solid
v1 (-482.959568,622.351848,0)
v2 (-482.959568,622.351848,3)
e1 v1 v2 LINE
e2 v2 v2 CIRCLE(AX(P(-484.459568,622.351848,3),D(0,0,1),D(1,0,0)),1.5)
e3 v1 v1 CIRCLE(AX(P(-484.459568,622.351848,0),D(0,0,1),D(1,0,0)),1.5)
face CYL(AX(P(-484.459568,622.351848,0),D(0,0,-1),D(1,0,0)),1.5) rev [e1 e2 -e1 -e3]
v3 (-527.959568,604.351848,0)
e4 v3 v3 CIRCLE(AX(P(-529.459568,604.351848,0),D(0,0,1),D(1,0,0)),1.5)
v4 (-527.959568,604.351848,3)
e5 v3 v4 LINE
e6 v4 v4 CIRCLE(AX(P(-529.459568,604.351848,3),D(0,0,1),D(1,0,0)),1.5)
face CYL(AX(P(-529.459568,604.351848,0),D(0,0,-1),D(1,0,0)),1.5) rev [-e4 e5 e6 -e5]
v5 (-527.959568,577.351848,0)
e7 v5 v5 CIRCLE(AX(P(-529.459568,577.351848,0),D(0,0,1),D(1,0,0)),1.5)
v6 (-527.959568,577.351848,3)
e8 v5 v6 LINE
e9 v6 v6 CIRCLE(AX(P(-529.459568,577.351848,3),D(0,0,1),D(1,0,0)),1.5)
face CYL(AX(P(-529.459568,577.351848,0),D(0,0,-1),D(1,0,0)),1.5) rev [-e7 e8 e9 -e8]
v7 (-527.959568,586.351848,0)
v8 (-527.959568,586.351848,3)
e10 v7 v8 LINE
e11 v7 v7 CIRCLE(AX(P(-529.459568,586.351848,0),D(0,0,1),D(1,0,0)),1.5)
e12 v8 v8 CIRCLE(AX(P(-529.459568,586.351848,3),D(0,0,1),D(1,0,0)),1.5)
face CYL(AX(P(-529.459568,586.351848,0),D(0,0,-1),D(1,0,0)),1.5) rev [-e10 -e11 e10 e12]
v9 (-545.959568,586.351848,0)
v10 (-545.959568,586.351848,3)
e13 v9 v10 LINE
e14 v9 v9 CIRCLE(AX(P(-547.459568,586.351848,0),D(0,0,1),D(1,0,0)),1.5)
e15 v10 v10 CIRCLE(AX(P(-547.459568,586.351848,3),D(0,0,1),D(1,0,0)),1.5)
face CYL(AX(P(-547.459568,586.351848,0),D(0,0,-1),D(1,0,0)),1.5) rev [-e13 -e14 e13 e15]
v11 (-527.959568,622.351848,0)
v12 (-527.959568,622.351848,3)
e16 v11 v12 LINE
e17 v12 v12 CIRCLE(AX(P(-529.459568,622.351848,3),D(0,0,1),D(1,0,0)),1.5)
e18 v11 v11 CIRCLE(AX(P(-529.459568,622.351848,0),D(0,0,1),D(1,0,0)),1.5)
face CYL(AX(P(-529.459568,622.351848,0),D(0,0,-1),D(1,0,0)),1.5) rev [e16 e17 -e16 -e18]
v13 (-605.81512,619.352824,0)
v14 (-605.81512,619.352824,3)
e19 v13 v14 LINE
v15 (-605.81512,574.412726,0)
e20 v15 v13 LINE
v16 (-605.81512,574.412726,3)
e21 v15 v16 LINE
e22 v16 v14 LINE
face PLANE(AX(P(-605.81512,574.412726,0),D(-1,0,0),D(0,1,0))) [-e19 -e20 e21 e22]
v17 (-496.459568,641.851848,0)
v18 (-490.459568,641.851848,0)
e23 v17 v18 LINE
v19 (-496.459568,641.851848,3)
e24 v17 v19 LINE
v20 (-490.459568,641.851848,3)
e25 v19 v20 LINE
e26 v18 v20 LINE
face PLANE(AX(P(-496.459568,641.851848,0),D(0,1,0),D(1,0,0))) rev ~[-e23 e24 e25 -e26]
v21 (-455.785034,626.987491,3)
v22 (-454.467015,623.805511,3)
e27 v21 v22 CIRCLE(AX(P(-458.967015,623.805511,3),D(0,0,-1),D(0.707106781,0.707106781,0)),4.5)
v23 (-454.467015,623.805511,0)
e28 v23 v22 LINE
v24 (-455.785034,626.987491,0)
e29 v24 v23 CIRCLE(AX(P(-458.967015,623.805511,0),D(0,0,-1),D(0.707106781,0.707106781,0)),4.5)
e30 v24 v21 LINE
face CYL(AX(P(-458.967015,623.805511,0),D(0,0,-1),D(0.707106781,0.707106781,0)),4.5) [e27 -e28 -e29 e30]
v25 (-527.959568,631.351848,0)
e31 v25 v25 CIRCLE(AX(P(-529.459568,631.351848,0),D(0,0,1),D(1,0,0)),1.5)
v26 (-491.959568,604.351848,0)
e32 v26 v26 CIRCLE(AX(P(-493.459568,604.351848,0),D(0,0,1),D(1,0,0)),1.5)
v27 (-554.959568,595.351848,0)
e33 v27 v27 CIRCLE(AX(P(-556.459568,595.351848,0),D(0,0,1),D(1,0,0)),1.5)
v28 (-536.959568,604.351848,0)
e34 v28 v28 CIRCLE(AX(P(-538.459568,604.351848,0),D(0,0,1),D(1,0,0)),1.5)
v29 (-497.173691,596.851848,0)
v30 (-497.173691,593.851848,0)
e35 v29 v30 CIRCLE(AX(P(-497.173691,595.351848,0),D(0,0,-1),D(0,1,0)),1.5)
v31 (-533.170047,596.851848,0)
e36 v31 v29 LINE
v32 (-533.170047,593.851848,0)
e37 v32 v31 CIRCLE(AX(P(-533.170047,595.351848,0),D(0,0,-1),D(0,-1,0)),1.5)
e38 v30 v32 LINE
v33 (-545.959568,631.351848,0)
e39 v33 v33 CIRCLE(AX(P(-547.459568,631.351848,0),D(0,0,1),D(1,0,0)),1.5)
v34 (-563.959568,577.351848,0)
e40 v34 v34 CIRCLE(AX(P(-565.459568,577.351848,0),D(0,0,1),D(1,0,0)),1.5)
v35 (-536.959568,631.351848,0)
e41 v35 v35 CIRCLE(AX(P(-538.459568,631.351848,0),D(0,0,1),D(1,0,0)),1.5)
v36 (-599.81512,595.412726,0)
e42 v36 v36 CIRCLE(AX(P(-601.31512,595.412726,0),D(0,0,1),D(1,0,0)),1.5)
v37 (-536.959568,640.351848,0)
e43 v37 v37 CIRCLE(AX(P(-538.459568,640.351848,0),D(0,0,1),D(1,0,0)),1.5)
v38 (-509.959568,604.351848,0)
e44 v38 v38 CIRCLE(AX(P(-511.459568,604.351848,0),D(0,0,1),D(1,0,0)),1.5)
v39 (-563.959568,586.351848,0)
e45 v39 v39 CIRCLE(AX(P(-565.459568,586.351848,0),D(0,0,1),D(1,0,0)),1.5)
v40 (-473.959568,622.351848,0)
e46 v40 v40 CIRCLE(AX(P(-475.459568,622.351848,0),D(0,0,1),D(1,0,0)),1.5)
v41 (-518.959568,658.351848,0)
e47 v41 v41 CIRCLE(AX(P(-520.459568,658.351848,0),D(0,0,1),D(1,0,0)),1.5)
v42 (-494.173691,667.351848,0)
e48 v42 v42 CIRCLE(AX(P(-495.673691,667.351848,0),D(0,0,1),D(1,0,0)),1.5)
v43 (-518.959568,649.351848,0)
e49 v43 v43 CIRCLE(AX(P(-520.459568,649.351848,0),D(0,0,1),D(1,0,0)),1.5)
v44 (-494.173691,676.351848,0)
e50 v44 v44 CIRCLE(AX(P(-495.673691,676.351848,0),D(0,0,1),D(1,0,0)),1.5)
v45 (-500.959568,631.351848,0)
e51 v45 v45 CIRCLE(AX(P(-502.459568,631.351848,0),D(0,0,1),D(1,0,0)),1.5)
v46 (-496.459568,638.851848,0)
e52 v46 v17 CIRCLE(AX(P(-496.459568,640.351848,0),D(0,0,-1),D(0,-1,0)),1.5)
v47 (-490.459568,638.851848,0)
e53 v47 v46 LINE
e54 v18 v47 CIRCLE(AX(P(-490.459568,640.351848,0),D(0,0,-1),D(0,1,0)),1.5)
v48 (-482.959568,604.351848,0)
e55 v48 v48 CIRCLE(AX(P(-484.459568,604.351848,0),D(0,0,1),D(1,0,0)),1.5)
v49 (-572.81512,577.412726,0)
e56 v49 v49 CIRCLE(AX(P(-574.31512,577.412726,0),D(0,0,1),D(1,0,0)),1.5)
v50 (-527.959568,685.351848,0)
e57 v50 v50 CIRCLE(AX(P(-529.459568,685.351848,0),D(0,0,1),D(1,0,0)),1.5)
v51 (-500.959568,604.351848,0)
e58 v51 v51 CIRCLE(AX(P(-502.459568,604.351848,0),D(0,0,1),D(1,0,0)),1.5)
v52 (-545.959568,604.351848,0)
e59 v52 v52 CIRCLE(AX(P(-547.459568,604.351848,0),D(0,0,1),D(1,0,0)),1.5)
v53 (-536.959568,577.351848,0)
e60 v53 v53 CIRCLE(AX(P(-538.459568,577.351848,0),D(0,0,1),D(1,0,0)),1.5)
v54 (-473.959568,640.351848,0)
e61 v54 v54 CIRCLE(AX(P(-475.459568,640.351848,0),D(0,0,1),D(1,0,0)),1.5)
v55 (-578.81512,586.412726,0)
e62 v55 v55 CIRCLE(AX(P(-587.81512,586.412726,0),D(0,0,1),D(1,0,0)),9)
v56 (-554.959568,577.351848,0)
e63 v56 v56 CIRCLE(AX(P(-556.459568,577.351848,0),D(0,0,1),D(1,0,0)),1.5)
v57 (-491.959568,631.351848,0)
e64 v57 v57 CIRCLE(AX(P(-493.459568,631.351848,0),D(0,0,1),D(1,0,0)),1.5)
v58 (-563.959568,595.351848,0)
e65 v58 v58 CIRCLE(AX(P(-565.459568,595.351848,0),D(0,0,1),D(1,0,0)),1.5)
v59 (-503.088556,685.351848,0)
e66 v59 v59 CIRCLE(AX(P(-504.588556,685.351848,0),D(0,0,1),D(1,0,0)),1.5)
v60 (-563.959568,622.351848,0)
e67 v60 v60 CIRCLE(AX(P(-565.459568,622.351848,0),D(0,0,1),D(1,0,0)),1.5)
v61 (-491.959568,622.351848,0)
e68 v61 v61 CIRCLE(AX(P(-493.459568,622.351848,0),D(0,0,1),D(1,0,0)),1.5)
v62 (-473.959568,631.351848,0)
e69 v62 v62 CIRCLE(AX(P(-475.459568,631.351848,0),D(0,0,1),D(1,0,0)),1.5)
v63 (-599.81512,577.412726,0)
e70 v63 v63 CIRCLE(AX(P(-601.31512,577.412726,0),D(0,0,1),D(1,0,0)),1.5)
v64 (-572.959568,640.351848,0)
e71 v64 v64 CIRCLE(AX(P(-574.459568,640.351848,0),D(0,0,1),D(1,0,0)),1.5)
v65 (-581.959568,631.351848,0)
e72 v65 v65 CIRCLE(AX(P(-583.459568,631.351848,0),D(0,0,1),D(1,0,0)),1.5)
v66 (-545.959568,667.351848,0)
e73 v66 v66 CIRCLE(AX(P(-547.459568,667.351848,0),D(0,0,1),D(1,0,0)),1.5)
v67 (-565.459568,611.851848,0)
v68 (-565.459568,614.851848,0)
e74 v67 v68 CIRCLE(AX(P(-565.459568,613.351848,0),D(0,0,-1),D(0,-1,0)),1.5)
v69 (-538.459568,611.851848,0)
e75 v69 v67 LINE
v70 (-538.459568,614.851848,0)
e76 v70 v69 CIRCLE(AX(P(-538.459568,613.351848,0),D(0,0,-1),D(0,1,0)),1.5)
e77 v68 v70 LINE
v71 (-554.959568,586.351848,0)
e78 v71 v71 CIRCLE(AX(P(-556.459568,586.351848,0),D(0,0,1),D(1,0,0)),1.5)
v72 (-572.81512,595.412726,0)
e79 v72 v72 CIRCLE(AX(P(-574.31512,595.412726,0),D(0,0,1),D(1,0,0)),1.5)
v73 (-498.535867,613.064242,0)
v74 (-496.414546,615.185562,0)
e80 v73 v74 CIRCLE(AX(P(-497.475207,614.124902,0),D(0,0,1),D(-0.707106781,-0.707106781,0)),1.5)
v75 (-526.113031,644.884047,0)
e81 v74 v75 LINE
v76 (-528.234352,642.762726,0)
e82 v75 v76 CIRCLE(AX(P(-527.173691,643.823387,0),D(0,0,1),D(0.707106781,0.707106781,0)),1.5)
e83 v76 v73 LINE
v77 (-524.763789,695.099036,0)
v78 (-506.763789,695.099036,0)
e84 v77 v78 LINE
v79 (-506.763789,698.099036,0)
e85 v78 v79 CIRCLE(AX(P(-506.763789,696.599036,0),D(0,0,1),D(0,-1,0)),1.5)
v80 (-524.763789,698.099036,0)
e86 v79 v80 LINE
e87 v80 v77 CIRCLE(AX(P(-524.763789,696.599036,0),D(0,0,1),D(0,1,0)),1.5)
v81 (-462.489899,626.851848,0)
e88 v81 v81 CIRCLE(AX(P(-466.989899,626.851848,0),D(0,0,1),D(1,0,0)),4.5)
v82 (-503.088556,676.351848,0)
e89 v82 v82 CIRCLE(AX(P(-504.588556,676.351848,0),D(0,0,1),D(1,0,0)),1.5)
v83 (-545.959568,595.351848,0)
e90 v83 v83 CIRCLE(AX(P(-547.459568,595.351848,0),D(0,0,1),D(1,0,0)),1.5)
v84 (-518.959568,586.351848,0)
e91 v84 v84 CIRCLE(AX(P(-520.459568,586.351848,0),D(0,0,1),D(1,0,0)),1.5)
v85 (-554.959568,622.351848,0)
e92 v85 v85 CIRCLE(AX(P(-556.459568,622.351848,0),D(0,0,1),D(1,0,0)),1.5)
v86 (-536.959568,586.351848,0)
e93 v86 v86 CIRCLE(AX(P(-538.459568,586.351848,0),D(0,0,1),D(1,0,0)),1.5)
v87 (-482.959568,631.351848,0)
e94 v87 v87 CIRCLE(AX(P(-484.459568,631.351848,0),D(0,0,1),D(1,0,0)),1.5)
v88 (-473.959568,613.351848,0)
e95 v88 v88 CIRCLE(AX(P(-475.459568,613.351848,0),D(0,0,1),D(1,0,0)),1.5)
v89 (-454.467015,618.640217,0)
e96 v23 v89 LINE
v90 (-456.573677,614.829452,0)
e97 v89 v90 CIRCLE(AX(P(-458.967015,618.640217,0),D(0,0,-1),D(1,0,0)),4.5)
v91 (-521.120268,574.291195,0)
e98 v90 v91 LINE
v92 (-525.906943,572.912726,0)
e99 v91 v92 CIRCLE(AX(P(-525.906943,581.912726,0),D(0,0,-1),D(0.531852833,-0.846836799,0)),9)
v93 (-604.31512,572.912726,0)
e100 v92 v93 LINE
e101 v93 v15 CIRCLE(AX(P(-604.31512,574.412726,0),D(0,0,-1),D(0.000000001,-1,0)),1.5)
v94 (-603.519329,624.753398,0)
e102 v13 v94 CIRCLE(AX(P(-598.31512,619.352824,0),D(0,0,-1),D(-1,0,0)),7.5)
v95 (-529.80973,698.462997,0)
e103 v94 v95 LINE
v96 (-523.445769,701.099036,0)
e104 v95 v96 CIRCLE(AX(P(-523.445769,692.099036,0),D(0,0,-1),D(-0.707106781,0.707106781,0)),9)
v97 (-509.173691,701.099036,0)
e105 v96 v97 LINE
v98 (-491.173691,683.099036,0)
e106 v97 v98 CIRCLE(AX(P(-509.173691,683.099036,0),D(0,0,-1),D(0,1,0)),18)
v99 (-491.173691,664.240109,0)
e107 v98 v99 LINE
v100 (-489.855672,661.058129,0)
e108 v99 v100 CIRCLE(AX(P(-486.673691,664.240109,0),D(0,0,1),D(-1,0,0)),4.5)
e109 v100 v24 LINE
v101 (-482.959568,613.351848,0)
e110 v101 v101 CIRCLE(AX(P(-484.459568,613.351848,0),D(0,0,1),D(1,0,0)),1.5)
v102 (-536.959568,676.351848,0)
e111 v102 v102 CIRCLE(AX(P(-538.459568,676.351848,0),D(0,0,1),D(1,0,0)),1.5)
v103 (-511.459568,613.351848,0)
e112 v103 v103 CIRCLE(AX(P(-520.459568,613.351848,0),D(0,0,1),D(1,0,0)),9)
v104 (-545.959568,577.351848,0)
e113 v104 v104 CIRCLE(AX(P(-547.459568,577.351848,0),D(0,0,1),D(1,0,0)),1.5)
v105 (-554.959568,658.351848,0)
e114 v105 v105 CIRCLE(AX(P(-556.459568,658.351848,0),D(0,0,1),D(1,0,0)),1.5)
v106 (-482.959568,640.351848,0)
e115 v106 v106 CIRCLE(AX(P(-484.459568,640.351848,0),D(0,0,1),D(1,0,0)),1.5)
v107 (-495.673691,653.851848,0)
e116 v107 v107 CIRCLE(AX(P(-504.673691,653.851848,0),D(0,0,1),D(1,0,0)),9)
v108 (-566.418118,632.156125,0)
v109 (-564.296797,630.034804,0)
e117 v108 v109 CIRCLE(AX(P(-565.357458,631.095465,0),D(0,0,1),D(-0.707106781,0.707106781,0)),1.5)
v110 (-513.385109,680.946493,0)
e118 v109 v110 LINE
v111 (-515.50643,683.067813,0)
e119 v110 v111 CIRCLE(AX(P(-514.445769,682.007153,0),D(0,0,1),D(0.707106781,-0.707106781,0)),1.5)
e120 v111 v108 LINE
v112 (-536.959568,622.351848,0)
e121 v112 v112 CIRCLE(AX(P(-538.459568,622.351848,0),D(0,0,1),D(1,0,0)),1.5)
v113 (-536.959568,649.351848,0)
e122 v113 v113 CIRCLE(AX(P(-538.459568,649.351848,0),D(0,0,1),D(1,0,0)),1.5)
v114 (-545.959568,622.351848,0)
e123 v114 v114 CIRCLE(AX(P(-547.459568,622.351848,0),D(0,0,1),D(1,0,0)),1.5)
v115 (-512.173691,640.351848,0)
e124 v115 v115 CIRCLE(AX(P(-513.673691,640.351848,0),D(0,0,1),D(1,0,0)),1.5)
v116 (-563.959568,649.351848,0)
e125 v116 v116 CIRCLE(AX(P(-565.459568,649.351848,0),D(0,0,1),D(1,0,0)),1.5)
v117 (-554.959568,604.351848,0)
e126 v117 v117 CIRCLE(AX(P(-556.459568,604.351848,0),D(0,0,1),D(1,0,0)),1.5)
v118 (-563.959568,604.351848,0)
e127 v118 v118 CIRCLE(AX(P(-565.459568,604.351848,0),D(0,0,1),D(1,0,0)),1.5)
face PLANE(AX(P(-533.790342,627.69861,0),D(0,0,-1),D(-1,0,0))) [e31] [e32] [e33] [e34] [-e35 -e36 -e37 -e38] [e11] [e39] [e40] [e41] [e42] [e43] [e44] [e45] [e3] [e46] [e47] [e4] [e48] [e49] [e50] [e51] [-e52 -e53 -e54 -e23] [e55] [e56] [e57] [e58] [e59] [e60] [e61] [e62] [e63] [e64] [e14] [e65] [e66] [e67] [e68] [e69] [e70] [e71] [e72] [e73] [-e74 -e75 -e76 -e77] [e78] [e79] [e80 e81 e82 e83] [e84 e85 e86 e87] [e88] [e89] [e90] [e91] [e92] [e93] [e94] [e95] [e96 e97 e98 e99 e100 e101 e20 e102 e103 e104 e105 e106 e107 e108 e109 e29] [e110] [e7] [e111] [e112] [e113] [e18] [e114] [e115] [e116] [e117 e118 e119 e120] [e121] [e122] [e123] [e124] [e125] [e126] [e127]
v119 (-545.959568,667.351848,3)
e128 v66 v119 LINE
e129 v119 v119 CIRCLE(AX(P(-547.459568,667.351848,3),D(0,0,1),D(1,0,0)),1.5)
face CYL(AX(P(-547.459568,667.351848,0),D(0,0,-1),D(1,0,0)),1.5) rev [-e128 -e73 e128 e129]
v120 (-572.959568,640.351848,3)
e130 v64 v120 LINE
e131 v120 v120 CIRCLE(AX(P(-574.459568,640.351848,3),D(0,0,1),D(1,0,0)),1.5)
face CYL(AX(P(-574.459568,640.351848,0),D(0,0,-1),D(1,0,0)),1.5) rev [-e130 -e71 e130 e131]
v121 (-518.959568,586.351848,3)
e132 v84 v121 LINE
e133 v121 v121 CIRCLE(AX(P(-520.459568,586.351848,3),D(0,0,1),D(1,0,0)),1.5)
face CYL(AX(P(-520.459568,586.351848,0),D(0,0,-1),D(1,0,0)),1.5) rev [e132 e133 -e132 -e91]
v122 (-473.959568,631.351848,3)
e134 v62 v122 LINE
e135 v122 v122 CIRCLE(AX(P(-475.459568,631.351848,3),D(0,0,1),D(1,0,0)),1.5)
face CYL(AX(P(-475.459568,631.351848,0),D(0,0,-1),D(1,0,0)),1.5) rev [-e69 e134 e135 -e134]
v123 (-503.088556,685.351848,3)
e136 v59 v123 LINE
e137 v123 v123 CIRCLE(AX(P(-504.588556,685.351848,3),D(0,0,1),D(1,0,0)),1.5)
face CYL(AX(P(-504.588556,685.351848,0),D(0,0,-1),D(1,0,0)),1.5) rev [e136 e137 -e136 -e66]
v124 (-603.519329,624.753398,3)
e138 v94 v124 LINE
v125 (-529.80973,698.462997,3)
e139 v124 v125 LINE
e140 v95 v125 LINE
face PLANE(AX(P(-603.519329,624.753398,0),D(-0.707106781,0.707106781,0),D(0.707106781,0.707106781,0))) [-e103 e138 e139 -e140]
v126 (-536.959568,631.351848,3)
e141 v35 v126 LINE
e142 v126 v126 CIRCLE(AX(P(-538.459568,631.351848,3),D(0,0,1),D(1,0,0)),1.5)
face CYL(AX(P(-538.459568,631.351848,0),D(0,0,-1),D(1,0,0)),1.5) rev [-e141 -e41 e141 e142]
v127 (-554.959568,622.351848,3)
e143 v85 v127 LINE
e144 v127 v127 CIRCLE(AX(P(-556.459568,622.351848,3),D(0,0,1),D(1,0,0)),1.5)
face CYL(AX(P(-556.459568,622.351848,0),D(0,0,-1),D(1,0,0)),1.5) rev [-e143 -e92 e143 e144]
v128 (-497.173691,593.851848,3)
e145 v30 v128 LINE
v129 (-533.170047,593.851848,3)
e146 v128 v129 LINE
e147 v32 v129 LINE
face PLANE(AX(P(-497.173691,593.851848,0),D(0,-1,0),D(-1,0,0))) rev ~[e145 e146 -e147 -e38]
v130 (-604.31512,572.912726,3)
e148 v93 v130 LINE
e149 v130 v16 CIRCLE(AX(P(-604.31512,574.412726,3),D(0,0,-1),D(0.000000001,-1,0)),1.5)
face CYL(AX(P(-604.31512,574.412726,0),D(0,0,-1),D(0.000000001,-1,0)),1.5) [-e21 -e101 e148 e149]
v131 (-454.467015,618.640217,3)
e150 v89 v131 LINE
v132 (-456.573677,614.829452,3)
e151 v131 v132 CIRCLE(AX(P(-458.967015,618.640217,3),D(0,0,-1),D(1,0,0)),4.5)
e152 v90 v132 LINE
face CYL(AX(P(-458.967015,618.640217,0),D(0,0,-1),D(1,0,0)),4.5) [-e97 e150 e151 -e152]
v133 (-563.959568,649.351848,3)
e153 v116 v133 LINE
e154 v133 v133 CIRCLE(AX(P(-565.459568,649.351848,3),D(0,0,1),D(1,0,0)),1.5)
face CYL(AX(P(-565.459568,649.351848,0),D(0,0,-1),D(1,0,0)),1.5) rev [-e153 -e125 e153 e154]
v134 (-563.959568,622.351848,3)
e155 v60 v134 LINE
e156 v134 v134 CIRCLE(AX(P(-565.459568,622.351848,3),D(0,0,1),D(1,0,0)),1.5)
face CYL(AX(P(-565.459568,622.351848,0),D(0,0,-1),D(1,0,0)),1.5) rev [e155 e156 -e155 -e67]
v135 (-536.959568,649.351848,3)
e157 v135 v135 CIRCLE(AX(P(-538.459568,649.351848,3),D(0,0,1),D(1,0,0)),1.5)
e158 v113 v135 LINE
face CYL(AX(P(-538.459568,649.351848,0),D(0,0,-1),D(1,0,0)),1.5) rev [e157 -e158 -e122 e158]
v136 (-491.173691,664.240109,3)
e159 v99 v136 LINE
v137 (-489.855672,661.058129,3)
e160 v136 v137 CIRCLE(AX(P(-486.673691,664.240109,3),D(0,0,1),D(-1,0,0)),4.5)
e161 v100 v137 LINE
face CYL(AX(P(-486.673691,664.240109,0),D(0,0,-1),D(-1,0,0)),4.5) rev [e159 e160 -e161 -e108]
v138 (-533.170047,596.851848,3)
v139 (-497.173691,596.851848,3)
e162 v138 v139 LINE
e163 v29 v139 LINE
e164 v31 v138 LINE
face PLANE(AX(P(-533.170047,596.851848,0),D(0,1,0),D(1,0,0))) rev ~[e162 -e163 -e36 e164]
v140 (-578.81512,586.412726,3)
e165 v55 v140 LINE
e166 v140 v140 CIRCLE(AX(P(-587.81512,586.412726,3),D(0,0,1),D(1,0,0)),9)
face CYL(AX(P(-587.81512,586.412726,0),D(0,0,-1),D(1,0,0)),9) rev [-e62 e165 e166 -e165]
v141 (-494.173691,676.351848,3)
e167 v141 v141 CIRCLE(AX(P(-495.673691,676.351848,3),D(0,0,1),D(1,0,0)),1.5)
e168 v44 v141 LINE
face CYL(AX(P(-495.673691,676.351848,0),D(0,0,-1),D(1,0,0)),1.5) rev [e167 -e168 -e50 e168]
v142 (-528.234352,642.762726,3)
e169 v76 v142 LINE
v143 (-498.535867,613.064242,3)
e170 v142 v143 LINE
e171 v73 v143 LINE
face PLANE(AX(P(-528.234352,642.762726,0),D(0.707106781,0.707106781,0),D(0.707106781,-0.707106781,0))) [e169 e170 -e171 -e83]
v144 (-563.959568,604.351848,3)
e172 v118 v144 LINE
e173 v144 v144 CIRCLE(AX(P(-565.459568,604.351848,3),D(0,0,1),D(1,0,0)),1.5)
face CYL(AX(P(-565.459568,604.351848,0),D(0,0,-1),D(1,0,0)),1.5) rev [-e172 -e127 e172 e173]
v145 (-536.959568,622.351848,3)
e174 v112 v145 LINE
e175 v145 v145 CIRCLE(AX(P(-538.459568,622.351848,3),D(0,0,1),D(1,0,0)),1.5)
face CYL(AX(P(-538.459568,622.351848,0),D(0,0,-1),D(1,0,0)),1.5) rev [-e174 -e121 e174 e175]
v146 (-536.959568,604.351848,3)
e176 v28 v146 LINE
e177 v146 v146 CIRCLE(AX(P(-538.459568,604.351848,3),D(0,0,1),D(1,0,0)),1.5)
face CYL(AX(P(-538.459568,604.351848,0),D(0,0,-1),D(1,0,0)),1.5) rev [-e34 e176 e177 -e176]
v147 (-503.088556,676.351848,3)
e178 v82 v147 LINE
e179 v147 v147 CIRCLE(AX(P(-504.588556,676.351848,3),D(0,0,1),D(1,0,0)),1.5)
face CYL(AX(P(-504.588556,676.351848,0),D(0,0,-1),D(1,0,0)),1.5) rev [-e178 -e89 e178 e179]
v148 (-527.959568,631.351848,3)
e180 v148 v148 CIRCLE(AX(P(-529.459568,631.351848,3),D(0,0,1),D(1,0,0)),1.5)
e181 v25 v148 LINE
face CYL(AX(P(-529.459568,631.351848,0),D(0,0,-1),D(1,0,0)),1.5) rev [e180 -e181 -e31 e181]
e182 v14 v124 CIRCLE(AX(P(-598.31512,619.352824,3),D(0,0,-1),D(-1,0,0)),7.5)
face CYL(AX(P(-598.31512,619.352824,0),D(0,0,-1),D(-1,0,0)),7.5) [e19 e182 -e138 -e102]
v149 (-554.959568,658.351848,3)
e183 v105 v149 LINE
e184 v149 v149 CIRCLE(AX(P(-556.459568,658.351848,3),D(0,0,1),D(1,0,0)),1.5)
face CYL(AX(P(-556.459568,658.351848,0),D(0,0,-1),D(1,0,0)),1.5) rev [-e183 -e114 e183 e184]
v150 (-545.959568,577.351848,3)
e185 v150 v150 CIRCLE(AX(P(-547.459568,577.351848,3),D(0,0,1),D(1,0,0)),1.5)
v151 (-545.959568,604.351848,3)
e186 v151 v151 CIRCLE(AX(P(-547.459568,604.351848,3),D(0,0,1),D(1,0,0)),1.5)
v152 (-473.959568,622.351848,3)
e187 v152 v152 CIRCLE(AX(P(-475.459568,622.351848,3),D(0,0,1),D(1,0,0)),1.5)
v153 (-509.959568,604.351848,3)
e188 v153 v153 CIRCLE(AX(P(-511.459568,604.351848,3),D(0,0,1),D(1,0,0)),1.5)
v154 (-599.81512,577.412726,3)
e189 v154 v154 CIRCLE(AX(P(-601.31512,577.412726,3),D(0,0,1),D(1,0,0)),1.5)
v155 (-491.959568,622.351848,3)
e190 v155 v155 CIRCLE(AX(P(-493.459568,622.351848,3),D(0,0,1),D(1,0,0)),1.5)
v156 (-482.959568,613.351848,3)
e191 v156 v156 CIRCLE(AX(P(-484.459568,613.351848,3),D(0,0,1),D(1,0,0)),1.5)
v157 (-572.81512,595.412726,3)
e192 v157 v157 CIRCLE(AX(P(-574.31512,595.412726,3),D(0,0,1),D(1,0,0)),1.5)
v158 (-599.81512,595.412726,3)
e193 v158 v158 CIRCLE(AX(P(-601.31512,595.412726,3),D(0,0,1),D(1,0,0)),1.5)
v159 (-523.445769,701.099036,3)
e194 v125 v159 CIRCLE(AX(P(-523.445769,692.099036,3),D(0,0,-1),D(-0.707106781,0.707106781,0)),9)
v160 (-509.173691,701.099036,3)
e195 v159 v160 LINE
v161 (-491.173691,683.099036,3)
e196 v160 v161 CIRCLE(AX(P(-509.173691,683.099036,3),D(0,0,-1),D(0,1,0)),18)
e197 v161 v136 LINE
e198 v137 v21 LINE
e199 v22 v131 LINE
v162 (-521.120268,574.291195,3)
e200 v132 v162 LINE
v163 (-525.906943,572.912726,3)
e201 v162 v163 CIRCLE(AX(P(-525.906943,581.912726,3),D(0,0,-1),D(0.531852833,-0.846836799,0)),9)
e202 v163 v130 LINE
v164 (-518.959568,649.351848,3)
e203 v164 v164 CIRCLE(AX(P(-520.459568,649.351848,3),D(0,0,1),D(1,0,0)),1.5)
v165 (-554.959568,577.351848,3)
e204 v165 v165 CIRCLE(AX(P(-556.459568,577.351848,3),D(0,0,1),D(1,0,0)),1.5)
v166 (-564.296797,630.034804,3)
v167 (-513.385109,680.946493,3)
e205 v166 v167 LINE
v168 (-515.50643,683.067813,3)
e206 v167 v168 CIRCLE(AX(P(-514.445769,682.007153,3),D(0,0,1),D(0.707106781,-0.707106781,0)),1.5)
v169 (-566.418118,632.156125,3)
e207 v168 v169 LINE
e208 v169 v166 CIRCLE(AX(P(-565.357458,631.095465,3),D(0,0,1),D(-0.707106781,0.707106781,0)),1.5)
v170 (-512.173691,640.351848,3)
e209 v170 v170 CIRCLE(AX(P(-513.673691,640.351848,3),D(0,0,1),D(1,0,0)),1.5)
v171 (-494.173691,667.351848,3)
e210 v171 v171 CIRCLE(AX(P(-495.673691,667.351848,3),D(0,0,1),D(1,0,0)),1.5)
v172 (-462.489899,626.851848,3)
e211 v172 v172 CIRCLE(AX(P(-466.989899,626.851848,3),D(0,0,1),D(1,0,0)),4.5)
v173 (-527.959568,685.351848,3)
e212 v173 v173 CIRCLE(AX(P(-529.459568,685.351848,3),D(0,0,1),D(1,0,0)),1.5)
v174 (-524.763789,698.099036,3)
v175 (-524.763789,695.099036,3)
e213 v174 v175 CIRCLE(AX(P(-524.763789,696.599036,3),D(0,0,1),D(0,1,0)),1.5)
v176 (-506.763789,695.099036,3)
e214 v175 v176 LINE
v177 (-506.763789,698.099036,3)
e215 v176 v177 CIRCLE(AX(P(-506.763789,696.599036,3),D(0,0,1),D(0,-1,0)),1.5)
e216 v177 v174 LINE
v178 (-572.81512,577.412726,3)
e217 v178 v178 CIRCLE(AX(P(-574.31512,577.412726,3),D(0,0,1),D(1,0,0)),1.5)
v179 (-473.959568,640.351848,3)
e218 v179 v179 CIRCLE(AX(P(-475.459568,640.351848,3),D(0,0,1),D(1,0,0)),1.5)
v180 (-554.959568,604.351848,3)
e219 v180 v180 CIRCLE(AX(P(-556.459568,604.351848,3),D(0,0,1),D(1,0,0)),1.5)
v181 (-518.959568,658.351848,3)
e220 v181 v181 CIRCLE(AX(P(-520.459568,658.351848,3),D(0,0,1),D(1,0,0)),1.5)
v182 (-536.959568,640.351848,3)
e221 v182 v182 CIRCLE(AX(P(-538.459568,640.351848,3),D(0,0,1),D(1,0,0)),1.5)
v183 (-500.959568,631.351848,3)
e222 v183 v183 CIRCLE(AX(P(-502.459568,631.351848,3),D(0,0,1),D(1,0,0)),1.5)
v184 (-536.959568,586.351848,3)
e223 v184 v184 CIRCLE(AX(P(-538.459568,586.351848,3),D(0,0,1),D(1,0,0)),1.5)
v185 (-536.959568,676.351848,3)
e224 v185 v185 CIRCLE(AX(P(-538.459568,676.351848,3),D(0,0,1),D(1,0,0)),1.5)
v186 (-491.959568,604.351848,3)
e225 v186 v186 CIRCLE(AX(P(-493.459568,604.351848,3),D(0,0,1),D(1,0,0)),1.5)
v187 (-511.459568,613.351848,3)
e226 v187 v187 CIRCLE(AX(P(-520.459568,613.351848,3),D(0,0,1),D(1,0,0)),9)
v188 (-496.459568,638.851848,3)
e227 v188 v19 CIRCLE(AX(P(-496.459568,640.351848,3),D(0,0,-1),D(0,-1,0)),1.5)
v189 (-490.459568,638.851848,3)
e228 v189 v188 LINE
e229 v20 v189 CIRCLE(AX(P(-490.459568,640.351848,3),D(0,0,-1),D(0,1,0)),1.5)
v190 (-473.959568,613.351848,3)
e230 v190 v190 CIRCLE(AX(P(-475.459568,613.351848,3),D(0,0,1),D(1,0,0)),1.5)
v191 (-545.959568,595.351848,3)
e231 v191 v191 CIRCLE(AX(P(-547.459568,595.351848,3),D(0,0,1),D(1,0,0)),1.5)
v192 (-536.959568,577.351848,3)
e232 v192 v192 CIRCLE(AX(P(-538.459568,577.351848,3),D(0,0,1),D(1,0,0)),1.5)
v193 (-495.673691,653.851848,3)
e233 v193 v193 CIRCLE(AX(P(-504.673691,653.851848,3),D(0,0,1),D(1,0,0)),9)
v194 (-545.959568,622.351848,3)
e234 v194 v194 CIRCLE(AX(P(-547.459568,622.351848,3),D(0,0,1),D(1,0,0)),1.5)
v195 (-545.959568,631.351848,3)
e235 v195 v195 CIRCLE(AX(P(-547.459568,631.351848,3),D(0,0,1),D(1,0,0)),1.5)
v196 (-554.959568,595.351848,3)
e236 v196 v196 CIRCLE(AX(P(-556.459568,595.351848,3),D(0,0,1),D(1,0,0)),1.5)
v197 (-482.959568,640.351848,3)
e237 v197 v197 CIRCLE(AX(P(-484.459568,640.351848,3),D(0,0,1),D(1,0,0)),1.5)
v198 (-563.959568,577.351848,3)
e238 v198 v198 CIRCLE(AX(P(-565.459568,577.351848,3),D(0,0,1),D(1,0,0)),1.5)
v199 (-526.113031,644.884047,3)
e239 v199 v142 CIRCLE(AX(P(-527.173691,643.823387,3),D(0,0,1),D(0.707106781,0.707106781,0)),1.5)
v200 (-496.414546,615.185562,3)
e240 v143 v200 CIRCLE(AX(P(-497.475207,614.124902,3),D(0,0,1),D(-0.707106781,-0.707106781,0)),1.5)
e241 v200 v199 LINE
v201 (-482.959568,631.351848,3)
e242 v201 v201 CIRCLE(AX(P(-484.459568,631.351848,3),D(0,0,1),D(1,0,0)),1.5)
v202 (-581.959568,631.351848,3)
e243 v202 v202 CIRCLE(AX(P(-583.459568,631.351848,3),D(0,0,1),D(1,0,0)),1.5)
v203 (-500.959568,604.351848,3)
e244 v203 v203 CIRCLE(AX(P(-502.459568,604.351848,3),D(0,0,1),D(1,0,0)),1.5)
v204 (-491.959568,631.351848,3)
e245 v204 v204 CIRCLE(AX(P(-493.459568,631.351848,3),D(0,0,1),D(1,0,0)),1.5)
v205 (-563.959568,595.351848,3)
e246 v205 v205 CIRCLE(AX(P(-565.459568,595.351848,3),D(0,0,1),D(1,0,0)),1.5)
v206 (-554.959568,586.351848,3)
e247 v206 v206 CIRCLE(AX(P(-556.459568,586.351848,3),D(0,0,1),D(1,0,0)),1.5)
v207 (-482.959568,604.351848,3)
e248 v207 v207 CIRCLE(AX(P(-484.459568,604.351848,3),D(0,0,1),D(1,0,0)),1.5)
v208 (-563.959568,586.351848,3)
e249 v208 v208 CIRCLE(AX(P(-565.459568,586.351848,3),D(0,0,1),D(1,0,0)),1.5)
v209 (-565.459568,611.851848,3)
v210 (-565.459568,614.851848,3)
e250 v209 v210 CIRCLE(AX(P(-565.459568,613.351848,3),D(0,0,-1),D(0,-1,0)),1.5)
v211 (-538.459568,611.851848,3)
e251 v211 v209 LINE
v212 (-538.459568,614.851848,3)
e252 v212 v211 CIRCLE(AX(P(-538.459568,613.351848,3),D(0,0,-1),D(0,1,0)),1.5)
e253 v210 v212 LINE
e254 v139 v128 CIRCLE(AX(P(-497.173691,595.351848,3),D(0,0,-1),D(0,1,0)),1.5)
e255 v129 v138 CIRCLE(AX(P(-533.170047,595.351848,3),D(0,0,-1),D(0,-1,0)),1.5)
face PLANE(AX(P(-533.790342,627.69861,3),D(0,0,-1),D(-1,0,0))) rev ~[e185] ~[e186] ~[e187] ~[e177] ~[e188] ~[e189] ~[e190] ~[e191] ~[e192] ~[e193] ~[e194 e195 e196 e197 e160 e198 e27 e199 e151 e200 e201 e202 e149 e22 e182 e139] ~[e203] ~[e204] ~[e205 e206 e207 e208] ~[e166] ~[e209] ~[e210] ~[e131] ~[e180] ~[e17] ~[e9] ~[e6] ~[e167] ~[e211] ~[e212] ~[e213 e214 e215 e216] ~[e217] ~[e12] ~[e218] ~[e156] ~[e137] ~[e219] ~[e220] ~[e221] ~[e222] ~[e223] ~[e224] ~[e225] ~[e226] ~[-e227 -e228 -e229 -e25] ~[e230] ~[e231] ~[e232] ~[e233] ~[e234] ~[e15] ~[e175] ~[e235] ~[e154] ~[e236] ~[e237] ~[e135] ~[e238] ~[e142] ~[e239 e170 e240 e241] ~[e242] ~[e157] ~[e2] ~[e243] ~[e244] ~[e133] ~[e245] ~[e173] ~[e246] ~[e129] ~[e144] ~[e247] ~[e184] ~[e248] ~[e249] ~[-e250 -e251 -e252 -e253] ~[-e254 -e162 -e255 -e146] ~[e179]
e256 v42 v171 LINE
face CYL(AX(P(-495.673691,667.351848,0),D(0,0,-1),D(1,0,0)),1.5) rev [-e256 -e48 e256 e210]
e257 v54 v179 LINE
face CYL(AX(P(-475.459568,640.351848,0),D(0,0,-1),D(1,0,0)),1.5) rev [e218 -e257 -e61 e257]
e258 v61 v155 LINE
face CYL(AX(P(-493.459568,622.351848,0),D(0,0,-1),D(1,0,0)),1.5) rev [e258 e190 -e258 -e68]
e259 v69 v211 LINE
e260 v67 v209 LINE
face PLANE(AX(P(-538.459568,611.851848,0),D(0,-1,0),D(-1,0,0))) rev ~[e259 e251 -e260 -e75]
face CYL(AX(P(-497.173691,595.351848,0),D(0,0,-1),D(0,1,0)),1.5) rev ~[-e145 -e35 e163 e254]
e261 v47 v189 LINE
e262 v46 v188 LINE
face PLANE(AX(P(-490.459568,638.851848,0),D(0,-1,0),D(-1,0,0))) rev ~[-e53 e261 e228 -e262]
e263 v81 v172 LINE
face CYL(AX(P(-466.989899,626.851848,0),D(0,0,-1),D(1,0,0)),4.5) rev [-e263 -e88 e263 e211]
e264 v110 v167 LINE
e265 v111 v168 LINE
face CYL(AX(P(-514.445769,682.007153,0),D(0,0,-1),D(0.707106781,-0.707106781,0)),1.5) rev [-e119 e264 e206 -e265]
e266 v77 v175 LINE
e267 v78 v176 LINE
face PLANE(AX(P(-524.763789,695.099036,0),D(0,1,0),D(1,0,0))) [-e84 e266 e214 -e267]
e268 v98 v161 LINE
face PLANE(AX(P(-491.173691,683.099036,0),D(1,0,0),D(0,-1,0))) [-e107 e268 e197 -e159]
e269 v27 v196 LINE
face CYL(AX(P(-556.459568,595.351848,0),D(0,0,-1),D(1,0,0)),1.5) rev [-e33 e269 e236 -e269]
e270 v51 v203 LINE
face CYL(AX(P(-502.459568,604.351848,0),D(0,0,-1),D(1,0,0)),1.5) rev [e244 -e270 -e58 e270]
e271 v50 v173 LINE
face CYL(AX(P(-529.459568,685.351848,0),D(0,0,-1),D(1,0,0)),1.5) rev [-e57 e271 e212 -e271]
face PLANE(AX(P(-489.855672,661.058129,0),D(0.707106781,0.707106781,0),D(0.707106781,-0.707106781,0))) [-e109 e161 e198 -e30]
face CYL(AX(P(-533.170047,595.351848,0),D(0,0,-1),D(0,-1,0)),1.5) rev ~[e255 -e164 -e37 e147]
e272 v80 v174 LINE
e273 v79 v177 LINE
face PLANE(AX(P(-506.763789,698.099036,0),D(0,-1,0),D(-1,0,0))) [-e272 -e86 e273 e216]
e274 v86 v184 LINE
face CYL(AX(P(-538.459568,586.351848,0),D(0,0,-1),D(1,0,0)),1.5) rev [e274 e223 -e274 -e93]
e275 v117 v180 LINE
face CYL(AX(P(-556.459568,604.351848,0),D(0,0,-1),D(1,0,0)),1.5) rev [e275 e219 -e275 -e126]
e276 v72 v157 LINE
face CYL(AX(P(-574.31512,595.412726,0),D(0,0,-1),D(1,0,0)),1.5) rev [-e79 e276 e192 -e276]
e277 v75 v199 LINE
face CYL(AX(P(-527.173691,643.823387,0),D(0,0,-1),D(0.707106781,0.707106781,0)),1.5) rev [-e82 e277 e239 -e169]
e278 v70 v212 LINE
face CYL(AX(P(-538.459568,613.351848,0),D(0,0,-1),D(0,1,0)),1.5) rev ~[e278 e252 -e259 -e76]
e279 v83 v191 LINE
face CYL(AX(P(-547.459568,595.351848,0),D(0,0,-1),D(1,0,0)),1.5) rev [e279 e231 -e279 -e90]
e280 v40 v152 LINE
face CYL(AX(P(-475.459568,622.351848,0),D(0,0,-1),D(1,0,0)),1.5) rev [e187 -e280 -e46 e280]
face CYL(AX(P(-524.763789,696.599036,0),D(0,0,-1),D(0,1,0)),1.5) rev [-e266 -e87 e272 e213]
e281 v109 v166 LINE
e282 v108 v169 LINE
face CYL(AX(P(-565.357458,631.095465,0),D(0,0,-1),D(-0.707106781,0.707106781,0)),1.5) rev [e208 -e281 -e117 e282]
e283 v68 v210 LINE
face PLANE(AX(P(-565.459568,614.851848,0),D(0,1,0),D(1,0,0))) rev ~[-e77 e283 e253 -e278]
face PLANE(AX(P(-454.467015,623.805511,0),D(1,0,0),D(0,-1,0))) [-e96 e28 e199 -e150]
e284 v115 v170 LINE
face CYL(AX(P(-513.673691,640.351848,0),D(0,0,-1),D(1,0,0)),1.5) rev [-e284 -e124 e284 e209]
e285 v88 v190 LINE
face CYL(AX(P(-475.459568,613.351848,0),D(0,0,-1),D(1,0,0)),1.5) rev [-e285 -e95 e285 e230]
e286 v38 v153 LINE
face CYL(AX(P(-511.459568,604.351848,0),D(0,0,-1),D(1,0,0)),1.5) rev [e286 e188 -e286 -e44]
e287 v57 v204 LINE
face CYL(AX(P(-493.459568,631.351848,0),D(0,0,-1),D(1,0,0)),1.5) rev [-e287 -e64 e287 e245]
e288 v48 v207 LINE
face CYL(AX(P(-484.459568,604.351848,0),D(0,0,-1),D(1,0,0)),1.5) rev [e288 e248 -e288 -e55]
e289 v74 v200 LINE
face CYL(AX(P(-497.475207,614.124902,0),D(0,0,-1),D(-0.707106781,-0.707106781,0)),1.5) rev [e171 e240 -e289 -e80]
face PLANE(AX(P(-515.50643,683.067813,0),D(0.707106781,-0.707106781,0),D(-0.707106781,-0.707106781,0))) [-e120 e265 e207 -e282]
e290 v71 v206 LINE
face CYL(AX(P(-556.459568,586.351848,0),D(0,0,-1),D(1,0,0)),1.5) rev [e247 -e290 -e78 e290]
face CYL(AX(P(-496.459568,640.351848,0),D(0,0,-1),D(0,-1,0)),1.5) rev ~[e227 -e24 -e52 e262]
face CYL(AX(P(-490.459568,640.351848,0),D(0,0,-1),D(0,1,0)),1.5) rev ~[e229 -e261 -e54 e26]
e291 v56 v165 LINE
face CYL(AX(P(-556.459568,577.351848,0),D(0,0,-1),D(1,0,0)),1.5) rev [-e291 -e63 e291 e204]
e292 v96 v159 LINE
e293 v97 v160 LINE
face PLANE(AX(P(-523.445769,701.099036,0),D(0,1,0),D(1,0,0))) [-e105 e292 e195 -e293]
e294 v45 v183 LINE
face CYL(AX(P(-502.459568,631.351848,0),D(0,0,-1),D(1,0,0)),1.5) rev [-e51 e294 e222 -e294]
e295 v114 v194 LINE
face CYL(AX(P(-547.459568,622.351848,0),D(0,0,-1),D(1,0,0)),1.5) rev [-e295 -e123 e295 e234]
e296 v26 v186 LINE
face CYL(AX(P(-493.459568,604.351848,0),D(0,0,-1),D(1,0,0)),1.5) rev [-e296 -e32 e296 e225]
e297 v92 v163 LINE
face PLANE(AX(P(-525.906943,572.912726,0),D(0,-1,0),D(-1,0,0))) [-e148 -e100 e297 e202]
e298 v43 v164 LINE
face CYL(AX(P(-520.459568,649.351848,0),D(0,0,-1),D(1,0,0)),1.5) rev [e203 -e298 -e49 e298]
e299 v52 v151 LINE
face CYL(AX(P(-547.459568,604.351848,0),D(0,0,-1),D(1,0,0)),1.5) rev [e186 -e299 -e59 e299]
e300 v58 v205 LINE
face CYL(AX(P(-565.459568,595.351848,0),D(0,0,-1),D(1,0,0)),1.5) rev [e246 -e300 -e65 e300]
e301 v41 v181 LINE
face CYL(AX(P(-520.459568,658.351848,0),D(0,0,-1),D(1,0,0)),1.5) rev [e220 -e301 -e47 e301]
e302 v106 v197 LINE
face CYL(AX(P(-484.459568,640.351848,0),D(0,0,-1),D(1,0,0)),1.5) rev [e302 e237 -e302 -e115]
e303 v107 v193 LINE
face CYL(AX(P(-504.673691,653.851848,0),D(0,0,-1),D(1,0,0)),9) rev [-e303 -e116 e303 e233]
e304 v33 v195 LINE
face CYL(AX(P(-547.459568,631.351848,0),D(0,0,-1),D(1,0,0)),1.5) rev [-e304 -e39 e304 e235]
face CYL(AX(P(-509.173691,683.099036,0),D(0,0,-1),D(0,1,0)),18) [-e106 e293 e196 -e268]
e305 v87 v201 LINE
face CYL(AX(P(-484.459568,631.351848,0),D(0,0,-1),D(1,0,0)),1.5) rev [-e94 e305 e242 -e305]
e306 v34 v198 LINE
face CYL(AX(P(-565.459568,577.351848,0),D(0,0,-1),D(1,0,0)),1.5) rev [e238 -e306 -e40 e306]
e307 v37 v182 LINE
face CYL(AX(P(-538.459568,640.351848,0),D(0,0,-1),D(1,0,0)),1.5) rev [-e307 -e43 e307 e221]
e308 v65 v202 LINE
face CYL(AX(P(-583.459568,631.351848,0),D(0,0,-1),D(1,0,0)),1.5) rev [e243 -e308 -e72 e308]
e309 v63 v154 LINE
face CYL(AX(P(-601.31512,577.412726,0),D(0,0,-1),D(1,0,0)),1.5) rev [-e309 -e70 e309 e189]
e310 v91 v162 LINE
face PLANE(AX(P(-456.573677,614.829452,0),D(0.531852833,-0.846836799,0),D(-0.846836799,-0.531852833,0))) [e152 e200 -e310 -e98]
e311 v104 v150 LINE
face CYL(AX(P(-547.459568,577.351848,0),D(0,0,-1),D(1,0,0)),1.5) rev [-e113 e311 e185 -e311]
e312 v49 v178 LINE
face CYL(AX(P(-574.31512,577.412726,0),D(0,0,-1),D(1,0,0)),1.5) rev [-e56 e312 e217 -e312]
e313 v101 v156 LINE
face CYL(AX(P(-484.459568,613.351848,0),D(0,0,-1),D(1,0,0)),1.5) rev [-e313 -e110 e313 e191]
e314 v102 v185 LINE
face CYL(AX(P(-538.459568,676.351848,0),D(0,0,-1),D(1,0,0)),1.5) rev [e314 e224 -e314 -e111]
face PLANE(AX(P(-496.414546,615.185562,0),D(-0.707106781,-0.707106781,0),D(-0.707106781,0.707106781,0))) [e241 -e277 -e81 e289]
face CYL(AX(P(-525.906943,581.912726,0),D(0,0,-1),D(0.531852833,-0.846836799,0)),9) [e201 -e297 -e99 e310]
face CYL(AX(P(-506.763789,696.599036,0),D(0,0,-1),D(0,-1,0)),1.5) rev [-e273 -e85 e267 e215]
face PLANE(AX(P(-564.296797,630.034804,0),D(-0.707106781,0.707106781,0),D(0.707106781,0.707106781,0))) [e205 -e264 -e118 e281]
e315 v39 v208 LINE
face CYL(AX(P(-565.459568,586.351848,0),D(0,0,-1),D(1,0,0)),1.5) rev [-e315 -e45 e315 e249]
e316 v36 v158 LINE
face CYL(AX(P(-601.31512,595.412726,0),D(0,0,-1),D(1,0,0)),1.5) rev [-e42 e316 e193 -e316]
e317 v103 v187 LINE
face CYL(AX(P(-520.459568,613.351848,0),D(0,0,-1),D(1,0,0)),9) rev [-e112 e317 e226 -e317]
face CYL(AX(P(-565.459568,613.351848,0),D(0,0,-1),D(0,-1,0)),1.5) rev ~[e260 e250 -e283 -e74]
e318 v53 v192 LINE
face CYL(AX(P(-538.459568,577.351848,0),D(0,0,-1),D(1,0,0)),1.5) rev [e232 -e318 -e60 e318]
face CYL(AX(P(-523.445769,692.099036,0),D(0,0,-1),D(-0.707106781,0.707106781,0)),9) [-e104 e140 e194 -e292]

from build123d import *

# Parameters (mm, degrees)
MODEL_R                 = 1.5
MODEL_R_2               = 9
MODEL_R_3               = 4.5
SALIENTE_EXTRUIR1_DEPTH = 3


with BuildPart() as part:
    # Model → Saliente-Extruir1 (new body)
    with BuildSketch(Plane.XY):
        with BuildLine():
            Line((-509.173691468, 701.09903587), (-523.445769407, 701.09903587))
            ThreePointArc((-523.445769407, 701.09903587), (-526.889920298, 700.413951663), (-529.809730437, 698.462996901))
            Line((-529.809730437, 698.462996901), (-603.519329352, 624.753397987))
            ThreePointArc((-603.519329352, 624.753397987), (-605.217350164, 622.286969974), (-605.815119618, 619.352823846))
            Line((-605.815119618, 619.352823846), (-605.815119618, 574.412726468))
            ThreePointArc((-605.815119618, 574.412726468), (-605.37577979, 573.352066296), (-604.315119618, 572.912726468))
            Line((-604.315119618, 572.912726468), (-525.906943381, 572.912726468))
            ThreePointArc((-525.906943381, 572.912726468), (-523.416339106, 573.264206922), (-521.120267881, 574.29119528))
            Line((-521.120267881, 574.29119528), (-456.573677169, 614.829451541))
            ThreePointArc((-456.573677169, 614.829451541), (-455.028739924, 616.463065312), (-454.467014919, 618.640217135))
            Line((-454.467014919, 618.640217135), (-454.467014919, 623.805510673))
            ThreePointArc((-454.467014919, 623.805510673), (-454.809557023, 625.527586118), (-455.785034404, 626.987491188))
            Line((-455.785034404, 626.987491188), (-489.855671983, 661.058128768))
            ThreePointArc((-489.855671983, 661.058128768), (-490.831149364, 662.518033837), (-491.173691468, 664.240109283))
            Line((-491.173691468, 664.240109283), (-491.173691468, 683.09903587))
            ThreePointArc((-491.173691468, 683.09903587), (-496.445769407, 695.826957932), (-509.173691468, 701.09903587))
        make_face()
        with Locations((-601.315119618, 577.412726468)):
            Circle(MODEL_R, mode=Mode.SUBTRACT)
        with Locations((-587.815119618, 586.412726468)):
            Circle(MODEL_R_2, mode=Mode.SUBTRACT)
        with Locations((-574.315119618, 577.412726468)):
            Circle(MODEL_R, mode=Mode.SUBTRACT)
        with Locations((-601.315119618, 595.412726468)):
            Circle(MODEL_R, mode=Mode.SUBTRACT)
        with Locations((-574.315119618, 595.412726468)):
            Circle(MODEL_R, mode=Mode.SUBTRACT)
        with Locations((-565.459568289, 577.351847961)):
            Circle(MODEL_R, mode=Mode.SUBTRACT)
        with Locations((-556.459568289, 577.351847961)):
            Circle(MODEL_R, mode=Mode.SUBTRACT)
        with Locations((-565.459568289, 586.351847961)):
            Circle(MODEL_R, mode=Mode.SUBTRACT)
        with Locations((-556.459568289, 586.351847961)):
            Circle(MODEL_R, mode=Mode.SUBTRACT)
        with Locations((-547.459568289, 577.351847961)):
            Circle(MODEL_R, mode=Mode.SUBTRACT)
        with Locations((-538.459568289, 577.351847961)):
            Circle(MODEL_R, mode=Mode.SUBTRACT)
        with Locations((-547.459568289, 586.351847961)):
            Circle(MODEL_R, mode=Mode.SUBTRACT)
        with Locations((-538.459568289, 586.351847961)):
            Circle(MODEL_R, mode=Mode.SUBTRACT)
        with Locations((-565.459568289, 595.351847961)):
            Circle(MODEL_R, mode=Mode.SUBTRACT)
        with Locations((-556.459568289, 595.351847961)):
            Circle(MODEL_R, mode=Mode.SUBTRACT)
        with Locations((-565.459568289, 604.351847961)):
            Circle(MODEL_R, mode=Mode.SUBTRACT)
        with Locations((-556.459568289, 604.351847961)):
            Circle(MODEL_R, mode=Mode.SUBTRACT)
        with Locations((-547.459568289, 595.351847961)):
            Circle(MODEL_R, mode=Mode.SUBTRACT)
        with Locations((-547.459568289, 604.351847961)):
            Circle(MODEL_R, mode=Mode.SUBTRACT)
        with Locations((-538.459568289, 604.351847961)):
            Circle(MODEL_R, mode=Mode.SUBTRACT)
        with Locations((-583.459568289, 631.351847961)):
            Circle(MODEL_R, mode=Mode.SUBTRACT)
        with BuildLine():
            ThreePointArc((-565.459568289, 611.851847961), (-566.959568289, 613.351847961), (-565.459568289, 614.851847961))
            Line((-565.459568289, 614.851847961), (-538.459568289, 614.851847961))
            ThreePointArc((-538.459568289, 614.851847961), (-536.959568289, 613.351847961), (-538.459568289, 611.851847961))
            Line((-538.459568289, 611.851847961), (-565.459568289, 611.851847961))
        make_face(mode=Mode.SUBTRACT)
        with Locations((-565.459568289, 622.351847961)):
            Circle(MODEL_R, mode=Mode.SUBTRACT)
        with Locations((-556.459568289, 622.351847961)):
            Circle(MODEL_R, mode=Mode.SUBTRACT)
        with Locations((-547.459568289, 622.351847961)):
            Circle(MODEL_R, mode=Mode.SUBTRACT)
        with Locations((-538.459568289, 622.351847961)):
            Circle(MODEL_R, mode=Mode.SUBTRACT)
        with Locations((-547.459568289, 631.351847961)):
            Circle(MODEL_R, mode=Mode.SUBTRACT)
        with Locations((-538.459568289, 631.351847961)):
            Circle(MODEL_R, mode=Mode.SUBTRACT)
        with Locations((-529.459568289, 577.351847961)):
            Circle(MODEL_R, mode=Mode.SUBTRACT)
        with Locations((-529.459568289, 586.351847961)):
            Circle(MODEL_R, mode=Mode.SUBTRACT)
        with Locations((-520.459568289, 586.351847961)):
            Circle(MODEL_R, mode=Mode.SUBTRACT)
        with BuildLine():
            ThreePointArc((-533.170047289, 593.851847961), (-534.670047289, 595.351847961), (-533.170047289, 596.851847961))
            Line((-533.170047289, 596.851847961), (-497.173691468, 596.851847961))
            ThreePointArc((-497.173691468, 596.851847961), (-495.673691468, 595.351847961), (-497.173691468, 593.851847961))
            Line((-497.173691468, 593.851847961), (-533.170047289, 593.851847961))
        make_face(mode=Mode.SUBTRACT)
        with Locations((-529.459568289, 604.351847961)):
            Circle(MODEL_R, mode=Mode.SUBTRACT)
        with Locations((-511.459568289, 604.351847961)):
            Circle(MODEL_R, mode=Mode.SUBTRACT)
        with Locations((-502.459568289, 604.351847961)):
            Circle(MODEL_R, mode=Mode.SUBTRACT)
        with Locations((-493.459568289, 604.351847961)):
            Circle(MODEL_R, mode=Mode.SUBTRACT)
        with Locations((-484.459568289, 604.351847961)):
            Circle(MODEL_R, mode=Mode.SUBTRACT)
        with Locations((-520.459568289, 613.351847961)):
            Circle(MODEL_R_2, mode=Mode.SUBTRACT)
        with Locations((-529.459568289, 622.351847961)):
            Circle(MODEL_R, mode=Mode.SUBTRACT)
        with BuildLine():
            Line((-526.113031296, 644.884046766), (-496.414546486, 615.185561956))
            ThreePointArc((-496.414546486, 615.185561956), (-496.414546486, 613.064241613), (-498.53586683, 613.064241613))
            Line((-498.53586683, 613.064241613), (-528.23435164, 642.762726422))
            ThreePointArc((-528.23435164, 642.762726422), (-528.23435164, 644.884046766), (-526.113031296, 644.884046766))
        make_face(mode=Mode.SUBTRACT)
        with Locations((-529.459568289, 631.351847961)):
            Circle(MODEL_R, mode=Mode.SUBTRACT)
        with Locations((-493.459568289, 622.351847961)):
            Circle(MODEL_R, mode=Mode.SUBTRACT)
        with Locations((-502.459568289, 631.351847961)):
            Circle(MODEL_R, mode=Mode.SUBTRACT)
        with Locations((-493.459568289, 631.351847961)):
            Circle(MODEL_R, mode=Mode.SUBTRACT)
        with Locations((-484.459568289, 613.351847961)):
            Circle(MODEL_R, mode=Mode.SUBTRACT)
        with Locations((-475.459568289, 613.351847961)):
            Circle(MODEL_R, mode=Mode.SUBTRACT)
        with Locations((-484.459568289, 622.351847961)):
            Circle(MODEL_R, mode=Mode.SUBTRACT)
        with Locations((-475.459568289, 622.351847961)):
            Circle(MODEL_R, mode=Mode.SUBTRACT)
        with Locations((-484.459568289, 631.351847961)):
            Circle(MODEL_R, mode=Mode.SUBTRACT)
        with Locations((-475.459568289, 631.351847961)):
            Circle(MODEL_R, mode=Mode.SUBTRACT)
        with Locations((-466.989899424, 626.851847961)):
            Circle(MODEL_R_3, mode=Mode.SUBTRACT)
        with Locations((-574.459568289, 640.351847961)):
            Circle(MODEL_R, mode=Mode.SUBTRACT)
        with Locations((-565.459568289, 649.351847961)):
            Circle(MODEL_R, mode=Mode.SUBTRACT)
        with Locations((-538.459568289, 640.351847961)):
            Circle(MODEL_R, mode=Mode.SUBTRACT)
        with Locations((-538.459568289, 649.351847961)):
            Circle(MODEL_R, mode=Mode.SUBTRACT)
        with Locations((-556.459568289, 658.351847961)):
            Circle(MODEL_R, mode=Mode.SUBTRACT)
        with BuildLine():
            Line((-566.418117824, 632.156124705), (-515.506429579, 683.06781295))
            ThreePointArc((-515.506429579, 683.06781295), (-513.385109235, 683.06781295), (-513.385109235, 680.946492606))
            Line((-513.385109235, 680.946492606), (-564.29679748, 630.034804361))
            ThreePointArc((-564.29679748, 630.034804361), (-566.418117824, 630.034804361), (-566.418117824, 632.156124705))
        make_face(mode=Mode.SUBTRACT)
        with Locations((-547.459568289, 667.351847961)):
            Circle(MODEL_R, mode=Mode.SUBTRACT)
        with Locations((-538.459568289, 676.351847961)):
            Circle(MODEL_R, mode=Mode.SUBTRACT)
        with Locations((-513.673691468, 640.351847961)):
            Circle(MODEL_R, mode=Mode.SUBTRACT)
        with Locations((-520.459568289, 649.351847961)):
            Circle(MODEL_R, mode=Mode.SUBTRACT)
        with BuildLine():
            ThreePointArc((-496.459568289, 638.851847961), (-497.959568289, 640.351847961), (-496.459568289, 641.851847961))
            Line((-496.459568289, 641.851847961), (-490.459568289, 641.851847961))
            ThreePointArc((-490.459568289, 641.851847961), (-488.959568289, 640.351847961), (-490.459568289, 638.851847961))
            Line((-490.459568289, 638.851847961), (-496.459568289, 638.851847961))
        make_face(mode=Mode.SUBTRACT)
        with Locations((-520.459568289, 658.351847961)):
            Circle(MODEL_R, mode=Mode.SUBTRACT)
        with Locations((-504.673691468, 653.851847961)):
            Circle(MODEL_R_2, mode=Mode.SUBTRACT)
        with Locations((-495.673691468, 667.351847961)):
            Circle(MODEL_R, mode=Mode.SUBTRACT)
        with Locations((-484.459568289, 640.351847961)):
            Circle(MODEL_R, mode=Mode.SUBTRACT)
        with Locations((-475.459568289, 640.351847961)):
            Circle(MODEL_R, mode=Mode.SUBTRACT)
        with Locations((-504.588556274, 676.351847961)):
            Circle(MODEL_R, mode=Mode.SUBTRACT)
        with Locations((-495.673691468, 676.351847961)):
            Circle(MODEL_R, mode=Mode.SUBTRACT)
        with Locations((-529.459568289, 685.351847961)):
            Circle(MODEL_R, mode=Mode.SUBTRACT)
        with BuildLine():
            Line((-524.763788891, 698.09903587), (-506.763788891, 698.09903587))
            ThreePointArc((-506.763788891, 698.09903587), (-505.263788891, 696.59903587), (-506.763788891, 695.09903587))
            Line((-506.763788891, 695.09903587), (-524.763788891, 695.09903587))
            ThreePointArc((-524.763788891, 695.09903587), (-526.263788891, 696.59903587), (-524.763788891, 698.09903587))
        make_face(mode=Mode.SUBTRACT)
        with Locations((-504.588556274, 685.351847961)):
            Circle(MODEL_R, mode=Mode.SUBTRACT)
    extrude(amount=SALIENTE_EXTRUIR1_DEPTH)


solid = part.part
